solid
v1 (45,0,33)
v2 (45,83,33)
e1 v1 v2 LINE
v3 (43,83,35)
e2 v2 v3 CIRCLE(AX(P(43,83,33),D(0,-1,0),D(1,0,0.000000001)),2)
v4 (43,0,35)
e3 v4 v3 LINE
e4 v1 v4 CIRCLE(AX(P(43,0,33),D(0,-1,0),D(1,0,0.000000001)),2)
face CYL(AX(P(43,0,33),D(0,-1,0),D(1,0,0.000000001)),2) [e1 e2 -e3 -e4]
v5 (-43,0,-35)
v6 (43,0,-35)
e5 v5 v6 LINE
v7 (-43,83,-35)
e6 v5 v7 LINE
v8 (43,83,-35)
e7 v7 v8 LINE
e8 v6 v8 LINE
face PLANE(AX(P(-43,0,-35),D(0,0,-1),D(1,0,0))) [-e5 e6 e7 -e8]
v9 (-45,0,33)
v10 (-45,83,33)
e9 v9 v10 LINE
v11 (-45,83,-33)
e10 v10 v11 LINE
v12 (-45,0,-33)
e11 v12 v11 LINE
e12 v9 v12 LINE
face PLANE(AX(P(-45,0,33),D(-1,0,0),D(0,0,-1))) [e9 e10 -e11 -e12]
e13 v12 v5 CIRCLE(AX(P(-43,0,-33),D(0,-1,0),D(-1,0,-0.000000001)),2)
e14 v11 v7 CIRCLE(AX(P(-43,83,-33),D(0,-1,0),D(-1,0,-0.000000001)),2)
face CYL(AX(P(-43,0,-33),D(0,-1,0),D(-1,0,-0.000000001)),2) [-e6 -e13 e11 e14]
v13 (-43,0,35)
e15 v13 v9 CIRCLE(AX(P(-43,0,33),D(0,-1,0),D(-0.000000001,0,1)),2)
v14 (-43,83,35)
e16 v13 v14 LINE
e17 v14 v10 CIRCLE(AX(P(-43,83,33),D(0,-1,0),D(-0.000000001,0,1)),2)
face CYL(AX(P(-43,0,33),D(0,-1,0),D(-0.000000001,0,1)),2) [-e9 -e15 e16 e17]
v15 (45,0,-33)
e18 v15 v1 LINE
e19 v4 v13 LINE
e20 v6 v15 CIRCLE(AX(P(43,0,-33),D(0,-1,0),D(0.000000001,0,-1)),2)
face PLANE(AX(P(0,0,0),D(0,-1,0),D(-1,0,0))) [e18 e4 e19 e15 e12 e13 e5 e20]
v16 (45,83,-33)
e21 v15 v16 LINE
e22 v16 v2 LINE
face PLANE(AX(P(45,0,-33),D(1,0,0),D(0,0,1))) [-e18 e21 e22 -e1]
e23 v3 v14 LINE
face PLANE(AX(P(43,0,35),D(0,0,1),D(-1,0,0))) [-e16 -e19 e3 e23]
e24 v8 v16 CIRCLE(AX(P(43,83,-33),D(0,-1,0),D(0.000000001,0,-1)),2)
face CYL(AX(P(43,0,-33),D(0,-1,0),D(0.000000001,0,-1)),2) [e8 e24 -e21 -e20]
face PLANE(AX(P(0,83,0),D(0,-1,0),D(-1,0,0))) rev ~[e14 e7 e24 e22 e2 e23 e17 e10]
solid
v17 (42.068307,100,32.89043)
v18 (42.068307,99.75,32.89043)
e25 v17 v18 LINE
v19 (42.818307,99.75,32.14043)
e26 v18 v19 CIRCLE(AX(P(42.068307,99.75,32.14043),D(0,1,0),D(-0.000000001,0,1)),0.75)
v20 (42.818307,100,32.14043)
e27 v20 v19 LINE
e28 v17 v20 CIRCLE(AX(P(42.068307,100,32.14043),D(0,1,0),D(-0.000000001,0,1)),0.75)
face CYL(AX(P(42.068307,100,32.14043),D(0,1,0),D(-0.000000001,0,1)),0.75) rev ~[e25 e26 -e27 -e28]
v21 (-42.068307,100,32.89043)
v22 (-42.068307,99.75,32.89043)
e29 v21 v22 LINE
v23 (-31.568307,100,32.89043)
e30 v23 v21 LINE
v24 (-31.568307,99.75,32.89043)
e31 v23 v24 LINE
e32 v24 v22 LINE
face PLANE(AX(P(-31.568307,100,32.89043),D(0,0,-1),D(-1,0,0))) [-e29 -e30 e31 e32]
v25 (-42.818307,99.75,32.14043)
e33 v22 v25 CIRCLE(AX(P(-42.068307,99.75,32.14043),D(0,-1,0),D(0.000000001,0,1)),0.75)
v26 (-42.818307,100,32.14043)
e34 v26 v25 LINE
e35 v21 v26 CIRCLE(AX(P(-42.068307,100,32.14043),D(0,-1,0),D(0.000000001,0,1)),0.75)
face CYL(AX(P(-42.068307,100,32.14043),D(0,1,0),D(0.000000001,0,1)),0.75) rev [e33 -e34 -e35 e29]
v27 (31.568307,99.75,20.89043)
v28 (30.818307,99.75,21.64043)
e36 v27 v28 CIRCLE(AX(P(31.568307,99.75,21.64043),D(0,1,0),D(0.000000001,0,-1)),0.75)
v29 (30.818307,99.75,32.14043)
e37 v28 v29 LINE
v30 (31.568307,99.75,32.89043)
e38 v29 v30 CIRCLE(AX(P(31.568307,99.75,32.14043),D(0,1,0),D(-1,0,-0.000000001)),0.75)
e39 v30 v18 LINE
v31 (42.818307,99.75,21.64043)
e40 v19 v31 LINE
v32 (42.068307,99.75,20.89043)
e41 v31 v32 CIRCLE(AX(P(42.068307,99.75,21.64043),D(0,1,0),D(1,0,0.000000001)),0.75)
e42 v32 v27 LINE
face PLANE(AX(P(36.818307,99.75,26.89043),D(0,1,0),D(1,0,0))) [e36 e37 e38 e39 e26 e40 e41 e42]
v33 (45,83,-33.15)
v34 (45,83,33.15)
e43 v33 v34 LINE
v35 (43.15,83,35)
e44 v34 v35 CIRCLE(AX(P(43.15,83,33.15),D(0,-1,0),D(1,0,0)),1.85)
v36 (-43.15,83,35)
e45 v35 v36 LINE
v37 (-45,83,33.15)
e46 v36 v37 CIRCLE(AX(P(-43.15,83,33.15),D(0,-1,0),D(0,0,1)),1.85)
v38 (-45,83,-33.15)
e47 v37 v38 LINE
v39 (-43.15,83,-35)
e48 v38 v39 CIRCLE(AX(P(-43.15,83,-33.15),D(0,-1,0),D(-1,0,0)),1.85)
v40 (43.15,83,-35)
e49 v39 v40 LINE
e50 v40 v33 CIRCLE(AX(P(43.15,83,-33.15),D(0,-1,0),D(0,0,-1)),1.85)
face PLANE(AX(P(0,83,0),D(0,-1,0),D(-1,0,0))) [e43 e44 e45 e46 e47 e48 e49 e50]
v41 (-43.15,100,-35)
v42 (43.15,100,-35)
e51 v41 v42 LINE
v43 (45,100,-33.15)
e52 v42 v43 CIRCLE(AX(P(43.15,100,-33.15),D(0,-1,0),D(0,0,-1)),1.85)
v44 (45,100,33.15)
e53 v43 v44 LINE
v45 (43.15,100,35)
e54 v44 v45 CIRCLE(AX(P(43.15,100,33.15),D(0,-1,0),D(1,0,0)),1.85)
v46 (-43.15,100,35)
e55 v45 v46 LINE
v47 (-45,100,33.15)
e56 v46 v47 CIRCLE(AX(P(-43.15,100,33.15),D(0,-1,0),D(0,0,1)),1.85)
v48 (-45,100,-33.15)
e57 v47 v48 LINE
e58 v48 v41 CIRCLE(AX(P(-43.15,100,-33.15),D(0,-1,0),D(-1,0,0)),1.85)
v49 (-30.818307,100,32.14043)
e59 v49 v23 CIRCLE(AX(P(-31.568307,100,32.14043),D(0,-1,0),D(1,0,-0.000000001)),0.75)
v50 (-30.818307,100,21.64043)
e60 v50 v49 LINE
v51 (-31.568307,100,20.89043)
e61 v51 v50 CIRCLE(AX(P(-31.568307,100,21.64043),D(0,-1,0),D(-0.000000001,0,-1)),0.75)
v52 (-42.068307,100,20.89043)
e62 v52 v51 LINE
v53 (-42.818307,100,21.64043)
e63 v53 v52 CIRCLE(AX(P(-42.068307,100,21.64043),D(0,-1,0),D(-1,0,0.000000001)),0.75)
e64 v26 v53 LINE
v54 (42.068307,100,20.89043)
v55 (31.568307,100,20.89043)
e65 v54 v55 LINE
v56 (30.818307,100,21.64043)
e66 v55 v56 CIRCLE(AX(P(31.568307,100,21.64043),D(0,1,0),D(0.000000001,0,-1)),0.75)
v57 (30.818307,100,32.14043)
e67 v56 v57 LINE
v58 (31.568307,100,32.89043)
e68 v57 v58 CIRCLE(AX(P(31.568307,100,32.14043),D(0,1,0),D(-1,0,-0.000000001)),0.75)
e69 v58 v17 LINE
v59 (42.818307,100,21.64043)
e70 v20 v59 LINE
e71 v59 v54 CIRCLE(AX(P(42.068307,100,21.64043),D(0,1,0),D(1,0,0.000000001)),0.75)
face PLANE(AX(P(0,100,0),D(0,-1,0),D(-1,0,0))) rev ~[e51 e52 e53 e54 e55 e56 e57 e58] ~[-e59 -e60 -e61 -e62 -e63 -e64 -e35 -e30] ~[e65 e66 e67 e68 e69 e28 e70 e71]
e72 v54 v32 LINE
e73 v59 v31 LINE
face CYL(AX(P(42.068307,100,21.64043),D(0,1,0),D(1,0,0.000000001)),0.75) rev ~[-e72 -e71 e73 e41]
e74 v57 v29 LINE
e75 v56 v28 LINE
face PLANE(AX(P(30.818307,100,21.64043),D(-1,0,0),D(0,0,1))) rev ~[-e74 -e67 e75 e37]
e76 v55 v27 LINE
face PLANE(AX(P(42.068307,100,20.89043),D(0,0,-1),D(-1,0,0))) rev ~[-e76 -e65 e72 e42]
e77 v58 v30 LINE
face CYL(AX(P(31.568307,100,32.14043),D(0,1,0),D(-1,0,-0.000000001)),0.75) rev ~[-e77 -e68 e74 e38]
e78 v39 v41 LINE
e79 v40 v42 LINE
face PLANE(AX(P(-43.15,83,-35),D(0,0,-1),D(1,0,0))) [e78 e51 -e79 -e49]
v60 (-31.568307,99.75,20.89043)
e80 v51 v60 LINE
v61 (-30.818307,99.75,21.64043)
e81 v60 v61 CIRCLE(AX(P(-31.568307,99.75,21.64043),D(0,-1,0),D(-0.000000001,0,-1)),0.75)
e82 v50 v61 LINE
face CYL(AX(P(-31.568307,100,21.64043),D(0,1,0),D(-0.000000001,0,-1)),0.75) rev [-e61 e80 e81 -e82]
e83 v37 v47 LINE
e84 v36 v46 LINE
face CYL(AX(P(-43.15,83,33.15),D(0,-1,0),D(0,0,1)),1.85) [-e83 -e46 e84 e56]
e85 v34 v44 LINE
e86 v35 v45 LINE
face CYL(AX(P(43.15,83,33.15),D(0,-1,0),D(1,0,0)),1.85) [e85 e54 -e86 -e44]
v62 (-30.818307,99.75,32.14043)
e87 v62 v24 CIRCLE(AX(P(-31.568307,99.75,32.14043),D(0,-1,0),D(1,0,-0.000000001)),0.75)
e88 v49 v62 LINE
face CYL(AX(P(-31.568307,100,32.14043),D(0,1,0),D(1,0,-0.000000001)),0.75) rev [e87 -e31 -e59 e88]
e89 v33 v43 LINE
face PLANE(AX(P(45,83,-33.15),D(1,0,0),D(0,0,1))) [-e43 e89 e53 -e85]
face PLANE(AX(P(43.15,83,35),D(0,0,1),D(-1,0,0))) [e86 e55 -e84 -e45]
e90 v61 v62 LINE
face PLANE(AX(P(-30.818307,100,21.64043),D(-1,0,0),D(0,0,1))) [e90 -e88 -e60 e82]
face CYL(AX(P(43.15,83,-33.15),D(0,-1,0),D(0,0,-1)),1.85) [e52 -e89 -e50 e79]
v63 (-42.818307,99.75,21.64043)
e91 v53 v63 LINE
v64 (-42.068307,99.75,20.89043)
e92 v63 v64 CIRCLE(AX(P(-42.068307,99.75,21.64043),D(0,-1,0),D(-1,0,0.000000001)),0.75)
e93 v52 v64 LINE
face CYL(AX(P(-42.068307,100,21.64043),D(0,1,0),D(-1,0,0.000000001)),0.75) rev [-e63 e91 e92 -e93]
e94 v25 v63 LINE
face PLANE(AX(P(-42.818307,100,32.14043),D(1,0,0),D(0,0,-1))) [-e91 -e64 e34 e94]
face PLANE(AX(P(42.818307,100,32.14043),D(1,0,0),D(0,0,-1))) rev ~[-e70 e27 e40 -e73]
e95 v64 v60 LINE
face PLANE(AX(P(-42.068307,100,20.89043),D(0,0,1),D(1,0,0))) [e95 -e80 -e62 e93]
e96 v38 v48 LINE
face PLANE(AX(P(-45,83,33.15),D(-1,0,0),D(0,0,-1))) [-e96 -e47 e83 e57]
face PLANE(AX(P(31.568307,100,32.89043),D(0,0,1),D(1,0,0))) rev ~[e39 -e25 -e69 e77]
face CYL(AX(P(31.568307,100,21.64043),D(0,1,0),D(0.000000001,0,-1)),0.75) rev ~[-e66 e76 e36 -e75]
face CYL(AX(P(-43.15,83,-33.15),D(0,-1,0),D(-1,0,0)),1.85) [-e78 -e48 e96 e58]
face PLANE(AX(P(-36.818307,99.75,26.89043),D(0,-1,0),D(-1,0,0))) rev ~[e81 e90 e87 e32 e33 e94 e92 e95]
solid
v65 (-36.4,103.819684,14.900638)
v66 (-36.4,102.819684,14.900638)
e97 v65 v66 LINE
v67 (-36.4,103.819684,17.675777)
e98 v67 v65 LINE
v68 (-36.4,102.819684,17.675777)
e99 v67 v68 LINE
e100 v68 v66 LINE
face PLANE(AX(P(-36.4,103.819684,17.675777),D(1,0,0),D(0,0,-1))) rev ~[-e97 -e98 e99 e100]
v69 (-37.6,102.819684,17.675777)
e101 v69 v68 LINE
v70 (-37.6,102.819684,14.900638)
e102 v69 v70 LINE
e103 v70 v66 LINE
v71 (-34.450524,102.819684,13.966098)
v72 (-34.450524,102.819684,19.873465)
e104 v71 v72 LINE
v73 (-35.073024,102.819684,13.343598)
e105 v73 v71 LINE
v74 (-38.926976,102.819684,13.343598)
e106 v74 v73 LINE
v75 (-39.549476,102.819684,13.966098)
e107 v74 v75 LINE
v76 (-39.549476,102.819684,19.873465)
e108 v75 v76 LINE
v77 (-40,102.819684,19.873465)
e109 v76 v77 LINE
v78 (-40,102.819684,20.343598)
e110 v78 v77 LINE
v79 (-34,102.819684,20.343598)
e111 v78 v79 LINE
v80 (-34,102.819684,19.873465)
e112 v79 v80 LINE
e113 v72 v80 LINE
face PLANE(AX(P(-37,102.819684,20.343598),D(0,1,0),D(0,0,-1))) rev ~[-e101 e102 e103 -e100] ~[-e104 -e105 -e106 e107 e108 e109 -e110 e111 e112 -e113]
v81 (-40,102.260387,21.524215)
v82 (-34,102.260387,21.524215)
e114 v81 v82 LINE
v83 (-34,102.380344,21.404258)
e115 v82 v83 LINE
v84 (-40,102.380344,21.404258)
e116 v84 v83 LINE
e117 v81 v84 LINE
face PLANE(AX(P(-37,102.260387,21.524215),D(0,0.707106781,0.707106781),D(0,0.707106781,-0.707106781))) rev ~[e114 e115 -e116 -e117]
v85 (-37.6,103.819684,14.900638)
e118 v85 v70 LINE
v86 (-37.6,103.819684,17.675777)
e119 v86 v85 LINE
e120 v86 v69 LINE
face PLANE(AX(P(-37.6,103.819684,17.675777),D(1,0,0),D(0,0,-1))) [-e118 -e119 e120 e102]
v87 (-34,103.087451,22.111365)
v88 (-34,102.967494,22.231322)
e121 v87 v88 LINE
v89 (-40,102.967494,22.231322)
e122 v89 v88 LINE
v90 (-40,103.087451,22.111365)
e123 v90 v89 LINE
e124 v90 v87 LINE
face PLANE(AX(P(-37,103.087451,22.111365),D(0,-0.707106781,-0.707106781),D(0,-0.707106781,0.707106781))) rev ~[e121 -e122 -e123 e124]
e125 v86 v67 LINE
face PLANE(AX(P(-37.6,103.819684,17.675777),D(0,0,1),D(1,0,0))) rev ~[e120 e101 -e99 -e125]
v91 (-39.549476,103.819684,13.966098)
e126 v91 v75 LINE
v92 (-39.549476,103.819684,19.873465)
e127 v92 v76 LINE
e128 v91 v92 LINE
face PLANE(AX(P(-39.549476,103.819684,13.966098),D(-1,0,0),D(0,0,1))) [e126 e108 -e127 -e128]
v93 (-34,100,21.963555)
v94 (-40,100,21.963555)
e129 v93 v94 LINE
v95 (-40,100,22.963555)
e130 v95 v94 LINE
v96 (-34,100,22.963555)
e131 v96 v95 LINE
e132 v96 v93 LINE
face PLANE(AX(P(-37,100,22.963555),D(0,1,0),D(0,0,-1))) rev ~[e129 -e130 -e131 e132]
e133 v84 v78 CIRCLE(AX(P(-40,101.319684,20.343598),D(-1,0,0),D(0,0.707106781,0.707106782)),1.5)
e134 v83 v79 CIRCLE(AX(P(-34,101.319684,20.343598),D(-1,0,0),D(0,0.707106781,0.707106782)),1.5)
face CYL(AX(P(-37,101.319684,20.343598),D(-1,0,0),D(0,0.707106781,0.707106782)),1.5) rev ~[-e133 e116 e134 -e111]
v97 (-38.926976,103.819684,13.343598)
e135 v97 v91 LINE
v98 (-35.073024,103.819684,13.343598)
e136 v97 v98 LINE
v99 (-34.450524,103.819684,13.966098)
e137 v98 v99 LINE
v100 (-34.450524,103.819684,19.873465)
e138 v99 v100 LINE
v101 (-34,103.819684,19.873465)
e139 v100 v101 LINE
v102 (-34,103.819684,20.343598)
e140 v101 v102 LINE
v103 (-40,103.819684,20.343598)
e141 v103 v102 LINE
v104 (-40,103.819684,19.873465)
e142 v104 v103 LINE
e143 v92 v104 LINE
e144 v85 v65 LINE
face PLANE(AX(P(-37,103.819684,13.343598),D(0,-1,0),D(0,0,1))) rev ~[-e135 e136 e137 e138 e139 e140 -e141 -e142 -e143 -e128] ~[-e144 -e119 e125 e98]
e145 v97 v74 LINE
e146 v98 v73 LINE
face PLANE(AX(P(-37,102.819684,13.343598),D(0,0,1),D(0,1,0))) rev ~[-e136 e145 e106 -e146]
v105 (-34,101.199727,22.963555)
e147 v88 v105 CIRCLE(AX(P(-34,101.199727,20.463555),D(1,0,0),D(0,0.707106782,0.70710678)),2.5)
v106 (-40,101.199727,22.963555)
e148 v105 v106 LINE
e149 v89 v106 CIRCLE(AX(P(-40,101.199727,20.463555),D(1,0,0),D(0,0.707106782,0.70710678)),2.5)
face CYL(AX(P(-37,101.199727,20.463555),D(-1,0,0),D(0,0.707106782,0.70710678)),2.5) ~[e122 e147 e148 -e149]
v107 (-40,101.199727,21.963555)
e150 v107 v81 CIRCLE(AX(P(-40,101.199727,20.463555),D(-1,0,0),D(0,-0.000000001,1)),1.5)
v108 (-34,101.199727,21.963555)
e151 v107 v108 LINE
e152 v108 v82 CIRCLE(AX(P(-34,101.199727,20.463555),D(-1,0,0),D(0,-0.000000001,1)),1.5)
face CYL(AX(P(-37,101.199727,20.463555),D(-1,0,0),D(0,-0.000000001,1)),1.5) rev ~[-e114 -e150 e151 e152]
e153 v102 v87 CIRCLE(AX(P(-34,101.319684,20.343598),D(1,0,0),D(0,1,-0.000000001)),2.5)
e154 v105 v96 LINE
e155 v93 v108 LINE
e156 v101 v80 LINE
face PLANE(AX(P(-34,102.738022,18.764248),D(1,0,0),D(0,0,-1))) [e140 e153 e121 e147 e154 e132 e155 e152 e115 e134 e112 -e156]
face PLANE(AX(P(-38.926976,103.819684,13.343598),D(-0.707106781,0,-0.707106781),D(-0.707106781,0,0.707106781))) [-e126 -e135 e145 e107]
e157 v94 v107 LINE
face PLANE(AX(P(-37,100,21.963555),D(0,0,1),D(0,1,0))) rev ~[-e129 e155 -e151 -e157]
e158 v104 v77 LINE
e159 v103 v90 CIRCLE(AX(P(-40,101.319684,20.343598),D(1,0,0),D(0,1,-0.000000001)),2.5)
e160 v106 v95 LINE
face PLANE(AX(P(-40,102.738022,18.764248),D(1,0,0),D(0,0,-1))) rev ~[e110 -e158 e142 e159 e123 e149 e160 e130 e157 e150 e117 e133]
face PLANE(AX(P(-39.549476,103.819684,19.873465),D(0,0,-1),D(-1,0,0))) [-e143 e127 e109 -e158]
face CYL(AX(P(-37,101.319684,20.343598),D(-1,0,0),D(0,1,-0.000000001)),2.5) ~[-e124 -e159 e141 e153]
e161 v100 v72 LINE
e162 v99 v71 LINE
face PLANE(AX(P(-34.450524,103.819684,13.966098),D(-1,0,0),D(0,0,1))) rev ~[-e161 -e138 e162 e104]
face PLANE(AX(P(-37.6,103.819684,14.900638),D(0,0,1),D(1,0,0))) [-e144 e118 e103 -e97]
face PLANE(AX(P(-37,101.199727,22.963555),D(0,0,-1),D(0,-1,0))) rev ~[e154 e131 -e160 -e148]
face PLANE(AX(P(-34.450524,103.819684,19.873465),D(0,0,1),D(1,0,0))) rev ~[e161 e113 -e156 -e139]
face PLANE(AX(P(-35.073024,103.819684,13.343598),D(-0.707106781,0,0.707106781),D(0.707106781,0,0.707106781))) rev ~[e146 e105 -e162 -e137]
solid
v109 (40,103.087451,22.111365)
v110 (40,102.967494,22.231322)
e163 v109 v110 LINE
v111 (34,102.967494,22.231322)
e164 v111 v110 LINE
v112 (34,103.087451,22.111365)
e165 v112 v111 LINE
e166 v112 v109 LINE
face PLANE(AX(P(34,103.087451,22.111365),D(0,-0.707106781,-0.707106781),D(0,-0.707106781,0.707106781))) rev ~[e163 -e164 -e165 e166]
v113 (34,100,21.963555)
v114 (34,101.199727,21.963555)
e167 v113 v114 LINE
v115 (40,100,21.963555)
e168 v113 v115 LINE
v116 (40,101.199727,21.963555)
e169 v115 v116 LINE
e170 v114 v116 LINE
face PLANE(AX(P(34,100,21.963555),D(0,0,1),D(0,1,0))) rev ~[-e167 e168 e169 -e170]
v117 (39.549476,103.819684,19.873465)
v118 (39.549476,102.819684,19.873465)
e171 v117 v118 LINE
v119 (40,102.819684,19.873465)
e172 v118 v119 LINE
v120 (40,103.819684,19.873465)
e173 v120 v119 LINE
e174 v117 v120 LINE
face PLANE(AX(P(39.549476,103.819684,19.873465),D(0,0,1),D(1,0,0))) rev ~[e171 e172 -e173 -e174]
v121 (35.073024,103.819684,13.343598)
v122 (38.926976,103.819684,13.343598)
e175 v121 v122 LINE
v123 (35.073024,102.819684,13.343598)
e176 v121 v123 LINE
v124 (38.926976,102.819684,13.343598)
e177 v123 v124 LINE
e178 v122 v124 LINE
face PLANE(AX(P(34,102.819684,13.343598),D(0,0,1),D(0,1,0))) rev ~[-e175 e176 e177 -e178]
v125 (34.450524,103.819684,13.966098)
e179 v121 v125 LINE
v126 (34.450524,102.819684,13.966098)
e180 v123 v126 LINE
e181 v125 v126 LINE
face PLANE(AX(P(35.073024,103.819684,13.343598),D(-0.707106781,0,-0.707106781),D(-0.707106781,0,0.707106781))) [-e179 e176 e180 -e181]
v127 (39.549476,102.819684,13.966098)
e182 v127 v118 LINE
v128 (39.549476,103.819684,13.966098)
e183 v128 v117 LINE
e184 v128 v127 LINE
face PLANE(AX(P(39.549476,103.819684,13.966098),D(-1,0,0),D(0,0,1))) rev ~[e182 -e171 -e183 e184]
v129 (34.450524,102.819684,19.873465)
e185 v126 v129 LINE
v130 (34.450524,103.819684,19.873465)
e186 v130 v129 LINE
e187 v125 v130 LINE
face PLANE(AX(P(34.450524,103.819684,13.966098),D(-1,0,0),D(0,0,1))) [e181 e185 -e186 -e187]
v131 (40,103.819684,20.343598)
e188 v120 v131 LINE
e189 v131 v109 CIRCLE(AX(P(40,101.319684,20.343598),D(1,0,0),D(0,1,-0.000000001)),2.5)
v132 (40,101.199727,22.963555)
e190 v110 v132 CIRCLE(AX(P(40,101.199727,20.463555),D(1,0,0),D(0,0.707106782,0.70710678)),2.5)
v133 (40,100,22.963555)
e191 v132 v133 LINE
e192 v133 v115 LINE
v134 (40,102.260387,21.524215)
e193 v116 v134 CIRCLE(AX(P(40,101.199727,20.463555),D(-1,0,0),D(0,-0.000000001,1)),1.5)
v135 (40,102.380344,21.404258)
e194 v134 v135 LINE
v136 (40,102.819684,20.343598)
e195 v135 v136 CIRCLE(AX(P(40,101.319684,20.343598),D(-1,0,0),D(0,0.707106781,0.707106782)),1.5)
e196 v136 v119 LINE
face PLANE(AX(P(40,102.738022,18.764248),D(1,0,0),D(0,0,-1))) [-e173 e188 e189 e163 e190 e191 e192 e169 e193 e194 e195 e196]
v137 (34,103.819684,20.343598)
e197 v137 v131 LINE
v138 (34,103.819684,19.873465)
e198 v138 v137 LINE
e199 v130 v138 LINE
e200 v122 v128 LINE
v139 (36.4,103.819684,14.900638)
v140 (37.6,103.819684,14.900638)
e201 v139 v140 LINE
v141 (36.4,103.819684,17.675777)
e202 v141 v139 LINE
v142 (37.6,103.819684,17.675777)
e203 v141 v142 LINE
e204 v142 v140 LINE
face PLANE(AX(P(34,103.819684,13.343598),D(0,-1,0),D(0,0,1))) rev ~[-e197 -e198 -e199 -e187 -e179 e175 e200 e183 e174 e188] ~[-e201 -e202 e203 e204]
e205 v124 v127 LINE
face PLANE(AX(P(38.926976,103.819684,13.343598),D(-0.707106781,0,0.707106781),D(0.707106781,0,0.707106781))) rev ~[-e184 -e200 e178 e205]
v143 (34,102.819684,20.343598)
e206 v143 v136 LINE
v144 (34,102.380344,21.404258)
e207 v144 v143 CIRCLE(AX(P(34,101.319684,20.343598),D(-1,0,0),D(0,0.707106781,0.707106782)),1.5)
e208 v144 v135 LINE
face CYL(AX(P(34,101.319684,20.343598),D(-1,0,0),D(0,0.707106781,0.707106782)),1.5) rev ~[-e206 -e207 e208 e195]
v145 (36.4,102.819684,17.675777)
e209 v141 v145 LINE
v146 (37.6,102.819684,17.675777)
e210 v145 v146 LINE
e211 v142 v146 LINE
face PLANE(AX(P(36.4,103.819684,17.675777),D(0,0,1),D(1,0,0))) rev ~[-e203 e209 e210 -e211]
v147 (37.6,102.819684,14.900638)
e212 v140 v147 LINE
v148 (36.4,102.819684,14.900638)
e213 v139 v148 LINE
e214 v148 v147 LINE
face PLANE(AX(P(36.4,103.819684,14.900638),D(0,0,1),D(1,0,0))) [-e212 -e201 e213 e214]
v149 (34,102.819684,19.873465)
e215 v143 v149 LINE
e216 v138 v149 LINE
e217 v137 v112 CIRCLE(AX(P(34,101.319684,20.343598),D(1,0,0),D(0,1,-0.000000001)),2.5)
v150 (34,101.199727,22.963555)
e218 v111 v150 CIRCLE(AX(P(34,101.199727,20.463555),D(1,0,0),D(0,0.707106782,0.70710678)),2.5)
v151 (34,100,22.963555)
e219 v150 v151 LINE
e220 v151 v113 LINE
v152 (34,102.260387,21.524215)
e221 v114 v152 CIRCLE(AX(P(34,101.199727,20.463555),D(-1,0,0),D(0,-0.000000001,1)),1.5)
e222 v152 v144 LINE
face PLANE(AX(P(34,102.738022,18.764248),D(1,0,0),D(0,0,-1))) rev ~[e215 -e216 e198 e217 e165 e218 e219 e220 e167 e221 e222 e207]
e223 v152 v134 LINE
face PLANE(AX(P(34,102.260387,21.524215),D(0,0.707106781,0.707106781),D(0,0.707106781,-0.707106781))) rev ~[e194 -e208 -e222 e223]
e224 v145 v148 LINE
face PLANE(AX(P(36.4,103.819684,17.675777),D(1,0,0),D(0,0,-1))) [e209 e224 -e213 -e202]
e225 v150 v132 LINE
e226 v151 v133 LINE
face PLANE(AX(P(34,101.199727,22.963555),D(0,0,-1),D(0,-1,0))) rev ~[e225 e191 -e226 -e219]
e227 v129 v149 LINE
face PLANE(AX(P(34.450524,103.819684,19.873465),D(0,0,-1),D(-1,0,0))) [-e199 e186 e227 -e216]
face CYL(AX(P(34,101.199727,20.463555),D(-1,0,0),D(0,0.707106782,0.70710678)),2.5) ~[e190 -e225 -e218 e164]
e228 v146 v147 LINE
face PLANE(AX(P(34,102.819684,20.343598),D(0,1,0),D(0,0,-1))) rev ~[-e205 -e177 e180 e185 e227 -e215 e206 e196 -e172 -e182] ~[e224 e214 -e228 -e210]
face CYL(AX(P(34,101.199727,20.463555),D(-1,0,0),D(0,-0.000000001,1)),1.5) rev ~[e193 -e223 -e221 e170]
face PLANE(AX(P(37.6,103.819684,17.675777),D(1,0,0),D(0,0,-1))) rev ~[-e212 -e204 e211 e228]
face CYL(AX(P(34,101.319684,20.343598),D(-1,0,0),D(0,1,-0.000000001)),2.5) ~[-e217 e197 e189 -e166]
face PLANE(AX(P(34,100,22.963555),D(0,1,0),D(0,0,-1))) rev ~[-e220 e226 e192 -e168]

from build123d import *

# Parameters (mm, degrees)
BOSS_EXTRUDE1_DEPTH = 83
BOSS_EXTRUDE2_DEPTH = 17
CUT_EXTRUDE1_DEPTH  = 0.5
BOSS_EXTRUDE3_DEPTH = 0.25
EXTRUDE_THIN1_DEPTH = 3
EXTRUDE_THIN2_DEPTH = 6
SKETCH10_W          = 1.2
SKETCH10_H          = 2.775138775
CUT_EXTRUDE2_DEPTH  = 1


with BuildPart() as part:
    # Sketch1 → Boss-Extrude1 (new body)
    with BuildSketch(Plane(origin=(0, 0, 0), x_dir=(1, 0, 0), z_dir=(0, 1, 0))):
        with BuildLine():
            Line((-43, 35), (43, 35))
            ThreePointArc((43, 35), (44.414213562, 34.414213562), (45, 33))
            Line((45, 33), (45, -33))
            ThreePointArc((45, -33), (44.414213562, -34.414213562), (43, -35))
            Line((43, -35), (-43, -35))
            ThreePointArc((-43, -35), (-44.414213562, -34.414213562), (-45, -33))
            Line((-45, -33), (-45, 33))
            ThreePointArc((-45, 33), (-44.414213562, 34.414213562), (-43, 35))
        make_face()
    extrude(amount=BOSS_EXTRUDE1_DEPTH)


with BuildPart() as body_2:
    # Sketch2 → Boss-Extrude2 (new body)
    with BuildSketch(Plane(origin=(0, 83, 0), x_dir=(1, 0, 0), z_dir=(0, 1, 0))):
        with BuildLine():
            Line((-43.15, 35), (43.15, 35))
            ThreePointArc((43.15, 35), (44.458147545, 34.458147545), (45, 33.15))
            Line((45, 33.15), (45, -33.15))
            ThreePointArc((45, -33.15), (44.458147545, -34.458147545), (43.15, -35))
            Line((43.15, -35), (-43.15, -35))
            ThreePointArc((-43.15, -35), (-44.458147545, -34.458147545), (-45, -33.15))
            Line((-45, -33.15), (-45, 33.15))
            ThreePointArc((-45, 33.15), (-44.458147545, 34.458147545), (-43.15, 35))
        make_face()
    extrude(amount=BOSS_EXTRUDE2_DEPTH)

    # Sketch3 → Cut-Extrude1 (cut)
    with BuildSketch(Plane(origin=(0, 100, 0), x_dir=(1, 0, 0), z_dir=(0, 1, 0))):
        with BuildLine():
            Line((-42.0683073, -20.890429663), (-31.5683073, -20.890429663))
            ThreePointArc((-31.5683073, -20.890429663), (-31.037977214, -21.110099577), (-30.8183073, -21.640429663))
            Line((-30.8183073, -21.640429663), (-30.8183073, -32.140429663))
            ThreePointArc((-30.8183073, -32.140429663), (-31.037977214, -32.670759749), (-31.5683073, -32.890429663))
            Line((-31.5683073, -32.890429663), (-42.0683073, -32.890429663))
            ThreePointArc((-42.0683073, -32.890429663), (-42.598637386, -32.670759749), (-42.8183073, -32.140429663))
            Line((-42.8183073, -32.140429663), (-42.8183073, -21.640429663))
            ThreePointArc((-42.8183073, -21.640429663), (-42.598637386, -21.110099577), (-42.0683073, -20.890429663))
        make_face()
        with BuildLine():
            Line((30.8183073, -21.640429663), (30.8183073, -32.140429663))
            ThreePointArc((30.8183073, -32.140429663), (31.037977214, -32.670759749), (31.5683073, -32.890429663))
            Line((31.5683073, -32.890429663), (42.0683073, -32.890429663))
            ThreePointArc((42.0683073, -32.890429663), (42.598637386, -32.670759749), (42.8183073, -32.140429663))
            Line((42.8183073, -32.140429663), (42.8183073, -21.640429663))
            ThreePointArc((42.8183073, -21.640429663), (42.598637386, -21.110099577), (42.0683073, -20.890429663))
            Line((42.0683073, -20.890429663), (31.5683073, -20.890429663))
            ThreePointArc((31.5683073, -20.890429663), (31.037977214, -21.110099577), (30.8183073, -21.640429663))
        make_face()
    extrude(amount=-CUT_EXTRUDE1_DEPTH, mode=Mode.SUBTRACT)

    # Sketch5 → Boss-Extrude3 (add)
    with BuildSketch(Plane(origin=(0, 99.5, 0), x_dir=(1, 0, 0), z_dir=(0, 1, 0))):
        with BuildLine():
            Line((-42.0683073, -20.890429663), (-31.5683073, -20.890429663))
            ThreePointArc((-31.5683073, -20.890429663), (-31.037977214, -21.110099577), (-30.8183073, -21.640429663))
            Line((-30.8183073, -21.640429663), (-30.8183073, -32.140429663))
            ThreePointArc((-30.8183073, -32.140429663), (-31.037977214, -32.670759749), (-31.5683073, -32.890429663))
            Line((-31.5683073, -32.890429663), (-42.0683073, -32.890429663))
            ThreePointArc((-42.0683073, -32.890429663), (-42.598637386, -32.670759749), (-42.8183073, -32.140429663))
            Line((-42.8183073, -32.140429663), (-42.8183073, -21.640429663))
            ThreePointArc((-42.8183073, -21.640429663), (-42.598637386, -21.110099577), (-42.0683073, -20.890429663))
        make_face()
        with BuildLine():
            Line((30.8183073, -21.640429663), (30.8183073, -32.140429663))
            ThreePointArc((30.8183073, -32.140429663), (31.037977214, -32.670759749), (31.5683073, -32.890429663))
            Line((31.5683073, -32.890429663), (42.0683073, -32.890429663))
            ThreePointArc((42.0683073, -32.890429663), (42.598637386, -32.670759749), (42.8183073, -32.140429663))
            Line((42.8183073, -32.140429663), (42.8183073, -21.640429663))
            ThreePointArc((42.8183073, -21.640429663), (42.598637386, -21.110099577), (42.0683073, -20.890429663))
            Line((42.0683073, -20.890429663), (31.5683073, -20.890429663))
            ThreePointArc((31.5683073, -20.890429663), (31.037977214, -21.110099577), (30.8183073, -21.640429663))
        make_face()
    extrude(amount=BOSS_EXTRUDE3_DEPTH)


with BuildPart() as body_3:
    # Sketch6 → Extrude-Thin1 (new, symmetric)
    with BuildSketch(Plane.ZY.offset(37)):
        with BuildLine():
            Line((21.963554927, 100), (21.963554927, 101.199727134))
            ThreePointArc((21.963554927, 101.199727134), (21.849374226, 101.773752283), (21.524215099, 102.260387306))
            Line((21.524215099, 102.260387306), (21.404257952, 102.380344453))
            ThreePointArc((21.404257952, 102.380344453), (20.917622929, 102.70550358), (20.34359778, 102.819684281))
            Line((20.34359778, 102.819684281), (13.34359778, 102.819684281))
            Line((13.34359778, 102.819684281), (13.34359778, 103.819684281))
            Line((13.34359778, 103.819684281), (20.34359778, 103.819684281))
            ThreePointArc((20.34359778, 103.819684281), (21.300306361, 103.629383113), (22.111364733, 103.087451234))
            Line((22.111364733, 103.087451234), (22.23132188, 102.967494087))
            ThreePointArc((22.23132188, 102.967494087), (22.773253759, 102.156435715), (22.963554927, 101.199727134))
            Line((22.963554927, 101.199727134), (22.963554927, 100))
            Line((22.963554927, 100), (21.963554927, 100))
        make_face()
    extrude(amount=EXTRUDE_THIN1_DEPTH, both=True)


with BuildPart() as body_4:
    # Sketch9 → Extrude-Thin2 (new body)
    with BuildSketch(Plane(origin=(34, 0, 0), x_dir=(0, 0, -1), z_dir=(1, 0, 0))):
        with BuildLine():
            Line((-21.963554927, 100), (-21.963554927, 101.199727134))
            ThreePointArc((-21.963554927, 101.199727134), (-21.849374226, 101.773752283), (-21.524215099, 102.260387306))
            Line((-21.524215099, 102.260387306), (-21.404257952, 102.380344453))
            ThreePointArc((-21.404257952, 102.380344453), (-20.917622929, 102.70550358), (-20.34359778, 102.819684281))
            Line((-20.34359778, 102.819684281), (-13.34359778, 102.819684281))
            Line((-13.34359778, 102.819684281), (-13.34359778, 103.819684281))
            Line((-13.34359778, 103.819684281), (-20.34359778, 103.819684281))
            ThreePointArc((-20.34359778, 103.819684281), (-21.300306361, 103.629383113), (-22.111364733, 103.087451234))
            Line((-22.111364733, 103.087451234), (-22.23132188, 102.967494087))
            ThreePointArc((-22.23132188, 102.967494087), (-22.773253759, 102.156435715), (-22.963554927, 101.199727134))
            Line((-22.963554927, 101.199727134), (-22.963554927, 100))
            Line((-22.963554927, 100), (-21.963554927, 100))
        make_face()
    extrude(amount=EXTRUDE_THIN2_DEPTH)


with BuildPart() as cut_extrude2_tool:
    # Sketch10 → Cut-Extrude2 (new body)
    with BuildSketch(Plane(origin=(0, 103.819684281, 0), x_dir=(1, 0, 0), z_dir=(0, 1, 0))):
        Polygon((-38.926975524, -13.34359778), (-39.549475921, -13.966098177), (-39.549475921, -19.873464752), (-40, -19.873464752), (-40, -13.34359778), align=None)
        Polygon((-34, -13.34359778), (-35.073024476, -13.34359778), (-34.450524079, -13.966098177), (-34.450524079, -19.873464752), (-34, -19.873464752), align=None)
        with Locations((-37, -16.288207362)):
            Rectangle(SKETCH10_W, SKETCH10_H)
        with Locations((37, -16.288207362)):
            Rectangle(SKETCH10_W, SKETCH10_H)
        Polygon((35.073024476, -13.34359778), (34.450524079, -13.966098177), (34.450524079, -19.873464752), (34, -19.873464752), (34, -13.34359778), align=None)
        Polygon((40, -13.34359778), (38.926975524, -13.34359778), (39.549475921, -13.966098177), (39.549475921, -19.873464752), (40, -19.873464752), align=None)
    extrude(amount=-CUT_EXTRUDE2_DEPTH)


with BuildPart() as body_3_1:
    add(body_3.part)

    # Cut-Extrude2: cut by cut_extrude2_tool
    add(cut_extrude2_tool.part, mode=Mode.SUBTRACT)


with BuildPart() as body_4_1:
    add(body_4.part)

    # Cut-Extrude2: cut by cut_extrude2_tool
    add(cut_extrude2_tool.part, mode=Mode.SUBTRACT)


solid = Compound([part.part, body_2.part, body_3_1.part, body_4_1.part])
